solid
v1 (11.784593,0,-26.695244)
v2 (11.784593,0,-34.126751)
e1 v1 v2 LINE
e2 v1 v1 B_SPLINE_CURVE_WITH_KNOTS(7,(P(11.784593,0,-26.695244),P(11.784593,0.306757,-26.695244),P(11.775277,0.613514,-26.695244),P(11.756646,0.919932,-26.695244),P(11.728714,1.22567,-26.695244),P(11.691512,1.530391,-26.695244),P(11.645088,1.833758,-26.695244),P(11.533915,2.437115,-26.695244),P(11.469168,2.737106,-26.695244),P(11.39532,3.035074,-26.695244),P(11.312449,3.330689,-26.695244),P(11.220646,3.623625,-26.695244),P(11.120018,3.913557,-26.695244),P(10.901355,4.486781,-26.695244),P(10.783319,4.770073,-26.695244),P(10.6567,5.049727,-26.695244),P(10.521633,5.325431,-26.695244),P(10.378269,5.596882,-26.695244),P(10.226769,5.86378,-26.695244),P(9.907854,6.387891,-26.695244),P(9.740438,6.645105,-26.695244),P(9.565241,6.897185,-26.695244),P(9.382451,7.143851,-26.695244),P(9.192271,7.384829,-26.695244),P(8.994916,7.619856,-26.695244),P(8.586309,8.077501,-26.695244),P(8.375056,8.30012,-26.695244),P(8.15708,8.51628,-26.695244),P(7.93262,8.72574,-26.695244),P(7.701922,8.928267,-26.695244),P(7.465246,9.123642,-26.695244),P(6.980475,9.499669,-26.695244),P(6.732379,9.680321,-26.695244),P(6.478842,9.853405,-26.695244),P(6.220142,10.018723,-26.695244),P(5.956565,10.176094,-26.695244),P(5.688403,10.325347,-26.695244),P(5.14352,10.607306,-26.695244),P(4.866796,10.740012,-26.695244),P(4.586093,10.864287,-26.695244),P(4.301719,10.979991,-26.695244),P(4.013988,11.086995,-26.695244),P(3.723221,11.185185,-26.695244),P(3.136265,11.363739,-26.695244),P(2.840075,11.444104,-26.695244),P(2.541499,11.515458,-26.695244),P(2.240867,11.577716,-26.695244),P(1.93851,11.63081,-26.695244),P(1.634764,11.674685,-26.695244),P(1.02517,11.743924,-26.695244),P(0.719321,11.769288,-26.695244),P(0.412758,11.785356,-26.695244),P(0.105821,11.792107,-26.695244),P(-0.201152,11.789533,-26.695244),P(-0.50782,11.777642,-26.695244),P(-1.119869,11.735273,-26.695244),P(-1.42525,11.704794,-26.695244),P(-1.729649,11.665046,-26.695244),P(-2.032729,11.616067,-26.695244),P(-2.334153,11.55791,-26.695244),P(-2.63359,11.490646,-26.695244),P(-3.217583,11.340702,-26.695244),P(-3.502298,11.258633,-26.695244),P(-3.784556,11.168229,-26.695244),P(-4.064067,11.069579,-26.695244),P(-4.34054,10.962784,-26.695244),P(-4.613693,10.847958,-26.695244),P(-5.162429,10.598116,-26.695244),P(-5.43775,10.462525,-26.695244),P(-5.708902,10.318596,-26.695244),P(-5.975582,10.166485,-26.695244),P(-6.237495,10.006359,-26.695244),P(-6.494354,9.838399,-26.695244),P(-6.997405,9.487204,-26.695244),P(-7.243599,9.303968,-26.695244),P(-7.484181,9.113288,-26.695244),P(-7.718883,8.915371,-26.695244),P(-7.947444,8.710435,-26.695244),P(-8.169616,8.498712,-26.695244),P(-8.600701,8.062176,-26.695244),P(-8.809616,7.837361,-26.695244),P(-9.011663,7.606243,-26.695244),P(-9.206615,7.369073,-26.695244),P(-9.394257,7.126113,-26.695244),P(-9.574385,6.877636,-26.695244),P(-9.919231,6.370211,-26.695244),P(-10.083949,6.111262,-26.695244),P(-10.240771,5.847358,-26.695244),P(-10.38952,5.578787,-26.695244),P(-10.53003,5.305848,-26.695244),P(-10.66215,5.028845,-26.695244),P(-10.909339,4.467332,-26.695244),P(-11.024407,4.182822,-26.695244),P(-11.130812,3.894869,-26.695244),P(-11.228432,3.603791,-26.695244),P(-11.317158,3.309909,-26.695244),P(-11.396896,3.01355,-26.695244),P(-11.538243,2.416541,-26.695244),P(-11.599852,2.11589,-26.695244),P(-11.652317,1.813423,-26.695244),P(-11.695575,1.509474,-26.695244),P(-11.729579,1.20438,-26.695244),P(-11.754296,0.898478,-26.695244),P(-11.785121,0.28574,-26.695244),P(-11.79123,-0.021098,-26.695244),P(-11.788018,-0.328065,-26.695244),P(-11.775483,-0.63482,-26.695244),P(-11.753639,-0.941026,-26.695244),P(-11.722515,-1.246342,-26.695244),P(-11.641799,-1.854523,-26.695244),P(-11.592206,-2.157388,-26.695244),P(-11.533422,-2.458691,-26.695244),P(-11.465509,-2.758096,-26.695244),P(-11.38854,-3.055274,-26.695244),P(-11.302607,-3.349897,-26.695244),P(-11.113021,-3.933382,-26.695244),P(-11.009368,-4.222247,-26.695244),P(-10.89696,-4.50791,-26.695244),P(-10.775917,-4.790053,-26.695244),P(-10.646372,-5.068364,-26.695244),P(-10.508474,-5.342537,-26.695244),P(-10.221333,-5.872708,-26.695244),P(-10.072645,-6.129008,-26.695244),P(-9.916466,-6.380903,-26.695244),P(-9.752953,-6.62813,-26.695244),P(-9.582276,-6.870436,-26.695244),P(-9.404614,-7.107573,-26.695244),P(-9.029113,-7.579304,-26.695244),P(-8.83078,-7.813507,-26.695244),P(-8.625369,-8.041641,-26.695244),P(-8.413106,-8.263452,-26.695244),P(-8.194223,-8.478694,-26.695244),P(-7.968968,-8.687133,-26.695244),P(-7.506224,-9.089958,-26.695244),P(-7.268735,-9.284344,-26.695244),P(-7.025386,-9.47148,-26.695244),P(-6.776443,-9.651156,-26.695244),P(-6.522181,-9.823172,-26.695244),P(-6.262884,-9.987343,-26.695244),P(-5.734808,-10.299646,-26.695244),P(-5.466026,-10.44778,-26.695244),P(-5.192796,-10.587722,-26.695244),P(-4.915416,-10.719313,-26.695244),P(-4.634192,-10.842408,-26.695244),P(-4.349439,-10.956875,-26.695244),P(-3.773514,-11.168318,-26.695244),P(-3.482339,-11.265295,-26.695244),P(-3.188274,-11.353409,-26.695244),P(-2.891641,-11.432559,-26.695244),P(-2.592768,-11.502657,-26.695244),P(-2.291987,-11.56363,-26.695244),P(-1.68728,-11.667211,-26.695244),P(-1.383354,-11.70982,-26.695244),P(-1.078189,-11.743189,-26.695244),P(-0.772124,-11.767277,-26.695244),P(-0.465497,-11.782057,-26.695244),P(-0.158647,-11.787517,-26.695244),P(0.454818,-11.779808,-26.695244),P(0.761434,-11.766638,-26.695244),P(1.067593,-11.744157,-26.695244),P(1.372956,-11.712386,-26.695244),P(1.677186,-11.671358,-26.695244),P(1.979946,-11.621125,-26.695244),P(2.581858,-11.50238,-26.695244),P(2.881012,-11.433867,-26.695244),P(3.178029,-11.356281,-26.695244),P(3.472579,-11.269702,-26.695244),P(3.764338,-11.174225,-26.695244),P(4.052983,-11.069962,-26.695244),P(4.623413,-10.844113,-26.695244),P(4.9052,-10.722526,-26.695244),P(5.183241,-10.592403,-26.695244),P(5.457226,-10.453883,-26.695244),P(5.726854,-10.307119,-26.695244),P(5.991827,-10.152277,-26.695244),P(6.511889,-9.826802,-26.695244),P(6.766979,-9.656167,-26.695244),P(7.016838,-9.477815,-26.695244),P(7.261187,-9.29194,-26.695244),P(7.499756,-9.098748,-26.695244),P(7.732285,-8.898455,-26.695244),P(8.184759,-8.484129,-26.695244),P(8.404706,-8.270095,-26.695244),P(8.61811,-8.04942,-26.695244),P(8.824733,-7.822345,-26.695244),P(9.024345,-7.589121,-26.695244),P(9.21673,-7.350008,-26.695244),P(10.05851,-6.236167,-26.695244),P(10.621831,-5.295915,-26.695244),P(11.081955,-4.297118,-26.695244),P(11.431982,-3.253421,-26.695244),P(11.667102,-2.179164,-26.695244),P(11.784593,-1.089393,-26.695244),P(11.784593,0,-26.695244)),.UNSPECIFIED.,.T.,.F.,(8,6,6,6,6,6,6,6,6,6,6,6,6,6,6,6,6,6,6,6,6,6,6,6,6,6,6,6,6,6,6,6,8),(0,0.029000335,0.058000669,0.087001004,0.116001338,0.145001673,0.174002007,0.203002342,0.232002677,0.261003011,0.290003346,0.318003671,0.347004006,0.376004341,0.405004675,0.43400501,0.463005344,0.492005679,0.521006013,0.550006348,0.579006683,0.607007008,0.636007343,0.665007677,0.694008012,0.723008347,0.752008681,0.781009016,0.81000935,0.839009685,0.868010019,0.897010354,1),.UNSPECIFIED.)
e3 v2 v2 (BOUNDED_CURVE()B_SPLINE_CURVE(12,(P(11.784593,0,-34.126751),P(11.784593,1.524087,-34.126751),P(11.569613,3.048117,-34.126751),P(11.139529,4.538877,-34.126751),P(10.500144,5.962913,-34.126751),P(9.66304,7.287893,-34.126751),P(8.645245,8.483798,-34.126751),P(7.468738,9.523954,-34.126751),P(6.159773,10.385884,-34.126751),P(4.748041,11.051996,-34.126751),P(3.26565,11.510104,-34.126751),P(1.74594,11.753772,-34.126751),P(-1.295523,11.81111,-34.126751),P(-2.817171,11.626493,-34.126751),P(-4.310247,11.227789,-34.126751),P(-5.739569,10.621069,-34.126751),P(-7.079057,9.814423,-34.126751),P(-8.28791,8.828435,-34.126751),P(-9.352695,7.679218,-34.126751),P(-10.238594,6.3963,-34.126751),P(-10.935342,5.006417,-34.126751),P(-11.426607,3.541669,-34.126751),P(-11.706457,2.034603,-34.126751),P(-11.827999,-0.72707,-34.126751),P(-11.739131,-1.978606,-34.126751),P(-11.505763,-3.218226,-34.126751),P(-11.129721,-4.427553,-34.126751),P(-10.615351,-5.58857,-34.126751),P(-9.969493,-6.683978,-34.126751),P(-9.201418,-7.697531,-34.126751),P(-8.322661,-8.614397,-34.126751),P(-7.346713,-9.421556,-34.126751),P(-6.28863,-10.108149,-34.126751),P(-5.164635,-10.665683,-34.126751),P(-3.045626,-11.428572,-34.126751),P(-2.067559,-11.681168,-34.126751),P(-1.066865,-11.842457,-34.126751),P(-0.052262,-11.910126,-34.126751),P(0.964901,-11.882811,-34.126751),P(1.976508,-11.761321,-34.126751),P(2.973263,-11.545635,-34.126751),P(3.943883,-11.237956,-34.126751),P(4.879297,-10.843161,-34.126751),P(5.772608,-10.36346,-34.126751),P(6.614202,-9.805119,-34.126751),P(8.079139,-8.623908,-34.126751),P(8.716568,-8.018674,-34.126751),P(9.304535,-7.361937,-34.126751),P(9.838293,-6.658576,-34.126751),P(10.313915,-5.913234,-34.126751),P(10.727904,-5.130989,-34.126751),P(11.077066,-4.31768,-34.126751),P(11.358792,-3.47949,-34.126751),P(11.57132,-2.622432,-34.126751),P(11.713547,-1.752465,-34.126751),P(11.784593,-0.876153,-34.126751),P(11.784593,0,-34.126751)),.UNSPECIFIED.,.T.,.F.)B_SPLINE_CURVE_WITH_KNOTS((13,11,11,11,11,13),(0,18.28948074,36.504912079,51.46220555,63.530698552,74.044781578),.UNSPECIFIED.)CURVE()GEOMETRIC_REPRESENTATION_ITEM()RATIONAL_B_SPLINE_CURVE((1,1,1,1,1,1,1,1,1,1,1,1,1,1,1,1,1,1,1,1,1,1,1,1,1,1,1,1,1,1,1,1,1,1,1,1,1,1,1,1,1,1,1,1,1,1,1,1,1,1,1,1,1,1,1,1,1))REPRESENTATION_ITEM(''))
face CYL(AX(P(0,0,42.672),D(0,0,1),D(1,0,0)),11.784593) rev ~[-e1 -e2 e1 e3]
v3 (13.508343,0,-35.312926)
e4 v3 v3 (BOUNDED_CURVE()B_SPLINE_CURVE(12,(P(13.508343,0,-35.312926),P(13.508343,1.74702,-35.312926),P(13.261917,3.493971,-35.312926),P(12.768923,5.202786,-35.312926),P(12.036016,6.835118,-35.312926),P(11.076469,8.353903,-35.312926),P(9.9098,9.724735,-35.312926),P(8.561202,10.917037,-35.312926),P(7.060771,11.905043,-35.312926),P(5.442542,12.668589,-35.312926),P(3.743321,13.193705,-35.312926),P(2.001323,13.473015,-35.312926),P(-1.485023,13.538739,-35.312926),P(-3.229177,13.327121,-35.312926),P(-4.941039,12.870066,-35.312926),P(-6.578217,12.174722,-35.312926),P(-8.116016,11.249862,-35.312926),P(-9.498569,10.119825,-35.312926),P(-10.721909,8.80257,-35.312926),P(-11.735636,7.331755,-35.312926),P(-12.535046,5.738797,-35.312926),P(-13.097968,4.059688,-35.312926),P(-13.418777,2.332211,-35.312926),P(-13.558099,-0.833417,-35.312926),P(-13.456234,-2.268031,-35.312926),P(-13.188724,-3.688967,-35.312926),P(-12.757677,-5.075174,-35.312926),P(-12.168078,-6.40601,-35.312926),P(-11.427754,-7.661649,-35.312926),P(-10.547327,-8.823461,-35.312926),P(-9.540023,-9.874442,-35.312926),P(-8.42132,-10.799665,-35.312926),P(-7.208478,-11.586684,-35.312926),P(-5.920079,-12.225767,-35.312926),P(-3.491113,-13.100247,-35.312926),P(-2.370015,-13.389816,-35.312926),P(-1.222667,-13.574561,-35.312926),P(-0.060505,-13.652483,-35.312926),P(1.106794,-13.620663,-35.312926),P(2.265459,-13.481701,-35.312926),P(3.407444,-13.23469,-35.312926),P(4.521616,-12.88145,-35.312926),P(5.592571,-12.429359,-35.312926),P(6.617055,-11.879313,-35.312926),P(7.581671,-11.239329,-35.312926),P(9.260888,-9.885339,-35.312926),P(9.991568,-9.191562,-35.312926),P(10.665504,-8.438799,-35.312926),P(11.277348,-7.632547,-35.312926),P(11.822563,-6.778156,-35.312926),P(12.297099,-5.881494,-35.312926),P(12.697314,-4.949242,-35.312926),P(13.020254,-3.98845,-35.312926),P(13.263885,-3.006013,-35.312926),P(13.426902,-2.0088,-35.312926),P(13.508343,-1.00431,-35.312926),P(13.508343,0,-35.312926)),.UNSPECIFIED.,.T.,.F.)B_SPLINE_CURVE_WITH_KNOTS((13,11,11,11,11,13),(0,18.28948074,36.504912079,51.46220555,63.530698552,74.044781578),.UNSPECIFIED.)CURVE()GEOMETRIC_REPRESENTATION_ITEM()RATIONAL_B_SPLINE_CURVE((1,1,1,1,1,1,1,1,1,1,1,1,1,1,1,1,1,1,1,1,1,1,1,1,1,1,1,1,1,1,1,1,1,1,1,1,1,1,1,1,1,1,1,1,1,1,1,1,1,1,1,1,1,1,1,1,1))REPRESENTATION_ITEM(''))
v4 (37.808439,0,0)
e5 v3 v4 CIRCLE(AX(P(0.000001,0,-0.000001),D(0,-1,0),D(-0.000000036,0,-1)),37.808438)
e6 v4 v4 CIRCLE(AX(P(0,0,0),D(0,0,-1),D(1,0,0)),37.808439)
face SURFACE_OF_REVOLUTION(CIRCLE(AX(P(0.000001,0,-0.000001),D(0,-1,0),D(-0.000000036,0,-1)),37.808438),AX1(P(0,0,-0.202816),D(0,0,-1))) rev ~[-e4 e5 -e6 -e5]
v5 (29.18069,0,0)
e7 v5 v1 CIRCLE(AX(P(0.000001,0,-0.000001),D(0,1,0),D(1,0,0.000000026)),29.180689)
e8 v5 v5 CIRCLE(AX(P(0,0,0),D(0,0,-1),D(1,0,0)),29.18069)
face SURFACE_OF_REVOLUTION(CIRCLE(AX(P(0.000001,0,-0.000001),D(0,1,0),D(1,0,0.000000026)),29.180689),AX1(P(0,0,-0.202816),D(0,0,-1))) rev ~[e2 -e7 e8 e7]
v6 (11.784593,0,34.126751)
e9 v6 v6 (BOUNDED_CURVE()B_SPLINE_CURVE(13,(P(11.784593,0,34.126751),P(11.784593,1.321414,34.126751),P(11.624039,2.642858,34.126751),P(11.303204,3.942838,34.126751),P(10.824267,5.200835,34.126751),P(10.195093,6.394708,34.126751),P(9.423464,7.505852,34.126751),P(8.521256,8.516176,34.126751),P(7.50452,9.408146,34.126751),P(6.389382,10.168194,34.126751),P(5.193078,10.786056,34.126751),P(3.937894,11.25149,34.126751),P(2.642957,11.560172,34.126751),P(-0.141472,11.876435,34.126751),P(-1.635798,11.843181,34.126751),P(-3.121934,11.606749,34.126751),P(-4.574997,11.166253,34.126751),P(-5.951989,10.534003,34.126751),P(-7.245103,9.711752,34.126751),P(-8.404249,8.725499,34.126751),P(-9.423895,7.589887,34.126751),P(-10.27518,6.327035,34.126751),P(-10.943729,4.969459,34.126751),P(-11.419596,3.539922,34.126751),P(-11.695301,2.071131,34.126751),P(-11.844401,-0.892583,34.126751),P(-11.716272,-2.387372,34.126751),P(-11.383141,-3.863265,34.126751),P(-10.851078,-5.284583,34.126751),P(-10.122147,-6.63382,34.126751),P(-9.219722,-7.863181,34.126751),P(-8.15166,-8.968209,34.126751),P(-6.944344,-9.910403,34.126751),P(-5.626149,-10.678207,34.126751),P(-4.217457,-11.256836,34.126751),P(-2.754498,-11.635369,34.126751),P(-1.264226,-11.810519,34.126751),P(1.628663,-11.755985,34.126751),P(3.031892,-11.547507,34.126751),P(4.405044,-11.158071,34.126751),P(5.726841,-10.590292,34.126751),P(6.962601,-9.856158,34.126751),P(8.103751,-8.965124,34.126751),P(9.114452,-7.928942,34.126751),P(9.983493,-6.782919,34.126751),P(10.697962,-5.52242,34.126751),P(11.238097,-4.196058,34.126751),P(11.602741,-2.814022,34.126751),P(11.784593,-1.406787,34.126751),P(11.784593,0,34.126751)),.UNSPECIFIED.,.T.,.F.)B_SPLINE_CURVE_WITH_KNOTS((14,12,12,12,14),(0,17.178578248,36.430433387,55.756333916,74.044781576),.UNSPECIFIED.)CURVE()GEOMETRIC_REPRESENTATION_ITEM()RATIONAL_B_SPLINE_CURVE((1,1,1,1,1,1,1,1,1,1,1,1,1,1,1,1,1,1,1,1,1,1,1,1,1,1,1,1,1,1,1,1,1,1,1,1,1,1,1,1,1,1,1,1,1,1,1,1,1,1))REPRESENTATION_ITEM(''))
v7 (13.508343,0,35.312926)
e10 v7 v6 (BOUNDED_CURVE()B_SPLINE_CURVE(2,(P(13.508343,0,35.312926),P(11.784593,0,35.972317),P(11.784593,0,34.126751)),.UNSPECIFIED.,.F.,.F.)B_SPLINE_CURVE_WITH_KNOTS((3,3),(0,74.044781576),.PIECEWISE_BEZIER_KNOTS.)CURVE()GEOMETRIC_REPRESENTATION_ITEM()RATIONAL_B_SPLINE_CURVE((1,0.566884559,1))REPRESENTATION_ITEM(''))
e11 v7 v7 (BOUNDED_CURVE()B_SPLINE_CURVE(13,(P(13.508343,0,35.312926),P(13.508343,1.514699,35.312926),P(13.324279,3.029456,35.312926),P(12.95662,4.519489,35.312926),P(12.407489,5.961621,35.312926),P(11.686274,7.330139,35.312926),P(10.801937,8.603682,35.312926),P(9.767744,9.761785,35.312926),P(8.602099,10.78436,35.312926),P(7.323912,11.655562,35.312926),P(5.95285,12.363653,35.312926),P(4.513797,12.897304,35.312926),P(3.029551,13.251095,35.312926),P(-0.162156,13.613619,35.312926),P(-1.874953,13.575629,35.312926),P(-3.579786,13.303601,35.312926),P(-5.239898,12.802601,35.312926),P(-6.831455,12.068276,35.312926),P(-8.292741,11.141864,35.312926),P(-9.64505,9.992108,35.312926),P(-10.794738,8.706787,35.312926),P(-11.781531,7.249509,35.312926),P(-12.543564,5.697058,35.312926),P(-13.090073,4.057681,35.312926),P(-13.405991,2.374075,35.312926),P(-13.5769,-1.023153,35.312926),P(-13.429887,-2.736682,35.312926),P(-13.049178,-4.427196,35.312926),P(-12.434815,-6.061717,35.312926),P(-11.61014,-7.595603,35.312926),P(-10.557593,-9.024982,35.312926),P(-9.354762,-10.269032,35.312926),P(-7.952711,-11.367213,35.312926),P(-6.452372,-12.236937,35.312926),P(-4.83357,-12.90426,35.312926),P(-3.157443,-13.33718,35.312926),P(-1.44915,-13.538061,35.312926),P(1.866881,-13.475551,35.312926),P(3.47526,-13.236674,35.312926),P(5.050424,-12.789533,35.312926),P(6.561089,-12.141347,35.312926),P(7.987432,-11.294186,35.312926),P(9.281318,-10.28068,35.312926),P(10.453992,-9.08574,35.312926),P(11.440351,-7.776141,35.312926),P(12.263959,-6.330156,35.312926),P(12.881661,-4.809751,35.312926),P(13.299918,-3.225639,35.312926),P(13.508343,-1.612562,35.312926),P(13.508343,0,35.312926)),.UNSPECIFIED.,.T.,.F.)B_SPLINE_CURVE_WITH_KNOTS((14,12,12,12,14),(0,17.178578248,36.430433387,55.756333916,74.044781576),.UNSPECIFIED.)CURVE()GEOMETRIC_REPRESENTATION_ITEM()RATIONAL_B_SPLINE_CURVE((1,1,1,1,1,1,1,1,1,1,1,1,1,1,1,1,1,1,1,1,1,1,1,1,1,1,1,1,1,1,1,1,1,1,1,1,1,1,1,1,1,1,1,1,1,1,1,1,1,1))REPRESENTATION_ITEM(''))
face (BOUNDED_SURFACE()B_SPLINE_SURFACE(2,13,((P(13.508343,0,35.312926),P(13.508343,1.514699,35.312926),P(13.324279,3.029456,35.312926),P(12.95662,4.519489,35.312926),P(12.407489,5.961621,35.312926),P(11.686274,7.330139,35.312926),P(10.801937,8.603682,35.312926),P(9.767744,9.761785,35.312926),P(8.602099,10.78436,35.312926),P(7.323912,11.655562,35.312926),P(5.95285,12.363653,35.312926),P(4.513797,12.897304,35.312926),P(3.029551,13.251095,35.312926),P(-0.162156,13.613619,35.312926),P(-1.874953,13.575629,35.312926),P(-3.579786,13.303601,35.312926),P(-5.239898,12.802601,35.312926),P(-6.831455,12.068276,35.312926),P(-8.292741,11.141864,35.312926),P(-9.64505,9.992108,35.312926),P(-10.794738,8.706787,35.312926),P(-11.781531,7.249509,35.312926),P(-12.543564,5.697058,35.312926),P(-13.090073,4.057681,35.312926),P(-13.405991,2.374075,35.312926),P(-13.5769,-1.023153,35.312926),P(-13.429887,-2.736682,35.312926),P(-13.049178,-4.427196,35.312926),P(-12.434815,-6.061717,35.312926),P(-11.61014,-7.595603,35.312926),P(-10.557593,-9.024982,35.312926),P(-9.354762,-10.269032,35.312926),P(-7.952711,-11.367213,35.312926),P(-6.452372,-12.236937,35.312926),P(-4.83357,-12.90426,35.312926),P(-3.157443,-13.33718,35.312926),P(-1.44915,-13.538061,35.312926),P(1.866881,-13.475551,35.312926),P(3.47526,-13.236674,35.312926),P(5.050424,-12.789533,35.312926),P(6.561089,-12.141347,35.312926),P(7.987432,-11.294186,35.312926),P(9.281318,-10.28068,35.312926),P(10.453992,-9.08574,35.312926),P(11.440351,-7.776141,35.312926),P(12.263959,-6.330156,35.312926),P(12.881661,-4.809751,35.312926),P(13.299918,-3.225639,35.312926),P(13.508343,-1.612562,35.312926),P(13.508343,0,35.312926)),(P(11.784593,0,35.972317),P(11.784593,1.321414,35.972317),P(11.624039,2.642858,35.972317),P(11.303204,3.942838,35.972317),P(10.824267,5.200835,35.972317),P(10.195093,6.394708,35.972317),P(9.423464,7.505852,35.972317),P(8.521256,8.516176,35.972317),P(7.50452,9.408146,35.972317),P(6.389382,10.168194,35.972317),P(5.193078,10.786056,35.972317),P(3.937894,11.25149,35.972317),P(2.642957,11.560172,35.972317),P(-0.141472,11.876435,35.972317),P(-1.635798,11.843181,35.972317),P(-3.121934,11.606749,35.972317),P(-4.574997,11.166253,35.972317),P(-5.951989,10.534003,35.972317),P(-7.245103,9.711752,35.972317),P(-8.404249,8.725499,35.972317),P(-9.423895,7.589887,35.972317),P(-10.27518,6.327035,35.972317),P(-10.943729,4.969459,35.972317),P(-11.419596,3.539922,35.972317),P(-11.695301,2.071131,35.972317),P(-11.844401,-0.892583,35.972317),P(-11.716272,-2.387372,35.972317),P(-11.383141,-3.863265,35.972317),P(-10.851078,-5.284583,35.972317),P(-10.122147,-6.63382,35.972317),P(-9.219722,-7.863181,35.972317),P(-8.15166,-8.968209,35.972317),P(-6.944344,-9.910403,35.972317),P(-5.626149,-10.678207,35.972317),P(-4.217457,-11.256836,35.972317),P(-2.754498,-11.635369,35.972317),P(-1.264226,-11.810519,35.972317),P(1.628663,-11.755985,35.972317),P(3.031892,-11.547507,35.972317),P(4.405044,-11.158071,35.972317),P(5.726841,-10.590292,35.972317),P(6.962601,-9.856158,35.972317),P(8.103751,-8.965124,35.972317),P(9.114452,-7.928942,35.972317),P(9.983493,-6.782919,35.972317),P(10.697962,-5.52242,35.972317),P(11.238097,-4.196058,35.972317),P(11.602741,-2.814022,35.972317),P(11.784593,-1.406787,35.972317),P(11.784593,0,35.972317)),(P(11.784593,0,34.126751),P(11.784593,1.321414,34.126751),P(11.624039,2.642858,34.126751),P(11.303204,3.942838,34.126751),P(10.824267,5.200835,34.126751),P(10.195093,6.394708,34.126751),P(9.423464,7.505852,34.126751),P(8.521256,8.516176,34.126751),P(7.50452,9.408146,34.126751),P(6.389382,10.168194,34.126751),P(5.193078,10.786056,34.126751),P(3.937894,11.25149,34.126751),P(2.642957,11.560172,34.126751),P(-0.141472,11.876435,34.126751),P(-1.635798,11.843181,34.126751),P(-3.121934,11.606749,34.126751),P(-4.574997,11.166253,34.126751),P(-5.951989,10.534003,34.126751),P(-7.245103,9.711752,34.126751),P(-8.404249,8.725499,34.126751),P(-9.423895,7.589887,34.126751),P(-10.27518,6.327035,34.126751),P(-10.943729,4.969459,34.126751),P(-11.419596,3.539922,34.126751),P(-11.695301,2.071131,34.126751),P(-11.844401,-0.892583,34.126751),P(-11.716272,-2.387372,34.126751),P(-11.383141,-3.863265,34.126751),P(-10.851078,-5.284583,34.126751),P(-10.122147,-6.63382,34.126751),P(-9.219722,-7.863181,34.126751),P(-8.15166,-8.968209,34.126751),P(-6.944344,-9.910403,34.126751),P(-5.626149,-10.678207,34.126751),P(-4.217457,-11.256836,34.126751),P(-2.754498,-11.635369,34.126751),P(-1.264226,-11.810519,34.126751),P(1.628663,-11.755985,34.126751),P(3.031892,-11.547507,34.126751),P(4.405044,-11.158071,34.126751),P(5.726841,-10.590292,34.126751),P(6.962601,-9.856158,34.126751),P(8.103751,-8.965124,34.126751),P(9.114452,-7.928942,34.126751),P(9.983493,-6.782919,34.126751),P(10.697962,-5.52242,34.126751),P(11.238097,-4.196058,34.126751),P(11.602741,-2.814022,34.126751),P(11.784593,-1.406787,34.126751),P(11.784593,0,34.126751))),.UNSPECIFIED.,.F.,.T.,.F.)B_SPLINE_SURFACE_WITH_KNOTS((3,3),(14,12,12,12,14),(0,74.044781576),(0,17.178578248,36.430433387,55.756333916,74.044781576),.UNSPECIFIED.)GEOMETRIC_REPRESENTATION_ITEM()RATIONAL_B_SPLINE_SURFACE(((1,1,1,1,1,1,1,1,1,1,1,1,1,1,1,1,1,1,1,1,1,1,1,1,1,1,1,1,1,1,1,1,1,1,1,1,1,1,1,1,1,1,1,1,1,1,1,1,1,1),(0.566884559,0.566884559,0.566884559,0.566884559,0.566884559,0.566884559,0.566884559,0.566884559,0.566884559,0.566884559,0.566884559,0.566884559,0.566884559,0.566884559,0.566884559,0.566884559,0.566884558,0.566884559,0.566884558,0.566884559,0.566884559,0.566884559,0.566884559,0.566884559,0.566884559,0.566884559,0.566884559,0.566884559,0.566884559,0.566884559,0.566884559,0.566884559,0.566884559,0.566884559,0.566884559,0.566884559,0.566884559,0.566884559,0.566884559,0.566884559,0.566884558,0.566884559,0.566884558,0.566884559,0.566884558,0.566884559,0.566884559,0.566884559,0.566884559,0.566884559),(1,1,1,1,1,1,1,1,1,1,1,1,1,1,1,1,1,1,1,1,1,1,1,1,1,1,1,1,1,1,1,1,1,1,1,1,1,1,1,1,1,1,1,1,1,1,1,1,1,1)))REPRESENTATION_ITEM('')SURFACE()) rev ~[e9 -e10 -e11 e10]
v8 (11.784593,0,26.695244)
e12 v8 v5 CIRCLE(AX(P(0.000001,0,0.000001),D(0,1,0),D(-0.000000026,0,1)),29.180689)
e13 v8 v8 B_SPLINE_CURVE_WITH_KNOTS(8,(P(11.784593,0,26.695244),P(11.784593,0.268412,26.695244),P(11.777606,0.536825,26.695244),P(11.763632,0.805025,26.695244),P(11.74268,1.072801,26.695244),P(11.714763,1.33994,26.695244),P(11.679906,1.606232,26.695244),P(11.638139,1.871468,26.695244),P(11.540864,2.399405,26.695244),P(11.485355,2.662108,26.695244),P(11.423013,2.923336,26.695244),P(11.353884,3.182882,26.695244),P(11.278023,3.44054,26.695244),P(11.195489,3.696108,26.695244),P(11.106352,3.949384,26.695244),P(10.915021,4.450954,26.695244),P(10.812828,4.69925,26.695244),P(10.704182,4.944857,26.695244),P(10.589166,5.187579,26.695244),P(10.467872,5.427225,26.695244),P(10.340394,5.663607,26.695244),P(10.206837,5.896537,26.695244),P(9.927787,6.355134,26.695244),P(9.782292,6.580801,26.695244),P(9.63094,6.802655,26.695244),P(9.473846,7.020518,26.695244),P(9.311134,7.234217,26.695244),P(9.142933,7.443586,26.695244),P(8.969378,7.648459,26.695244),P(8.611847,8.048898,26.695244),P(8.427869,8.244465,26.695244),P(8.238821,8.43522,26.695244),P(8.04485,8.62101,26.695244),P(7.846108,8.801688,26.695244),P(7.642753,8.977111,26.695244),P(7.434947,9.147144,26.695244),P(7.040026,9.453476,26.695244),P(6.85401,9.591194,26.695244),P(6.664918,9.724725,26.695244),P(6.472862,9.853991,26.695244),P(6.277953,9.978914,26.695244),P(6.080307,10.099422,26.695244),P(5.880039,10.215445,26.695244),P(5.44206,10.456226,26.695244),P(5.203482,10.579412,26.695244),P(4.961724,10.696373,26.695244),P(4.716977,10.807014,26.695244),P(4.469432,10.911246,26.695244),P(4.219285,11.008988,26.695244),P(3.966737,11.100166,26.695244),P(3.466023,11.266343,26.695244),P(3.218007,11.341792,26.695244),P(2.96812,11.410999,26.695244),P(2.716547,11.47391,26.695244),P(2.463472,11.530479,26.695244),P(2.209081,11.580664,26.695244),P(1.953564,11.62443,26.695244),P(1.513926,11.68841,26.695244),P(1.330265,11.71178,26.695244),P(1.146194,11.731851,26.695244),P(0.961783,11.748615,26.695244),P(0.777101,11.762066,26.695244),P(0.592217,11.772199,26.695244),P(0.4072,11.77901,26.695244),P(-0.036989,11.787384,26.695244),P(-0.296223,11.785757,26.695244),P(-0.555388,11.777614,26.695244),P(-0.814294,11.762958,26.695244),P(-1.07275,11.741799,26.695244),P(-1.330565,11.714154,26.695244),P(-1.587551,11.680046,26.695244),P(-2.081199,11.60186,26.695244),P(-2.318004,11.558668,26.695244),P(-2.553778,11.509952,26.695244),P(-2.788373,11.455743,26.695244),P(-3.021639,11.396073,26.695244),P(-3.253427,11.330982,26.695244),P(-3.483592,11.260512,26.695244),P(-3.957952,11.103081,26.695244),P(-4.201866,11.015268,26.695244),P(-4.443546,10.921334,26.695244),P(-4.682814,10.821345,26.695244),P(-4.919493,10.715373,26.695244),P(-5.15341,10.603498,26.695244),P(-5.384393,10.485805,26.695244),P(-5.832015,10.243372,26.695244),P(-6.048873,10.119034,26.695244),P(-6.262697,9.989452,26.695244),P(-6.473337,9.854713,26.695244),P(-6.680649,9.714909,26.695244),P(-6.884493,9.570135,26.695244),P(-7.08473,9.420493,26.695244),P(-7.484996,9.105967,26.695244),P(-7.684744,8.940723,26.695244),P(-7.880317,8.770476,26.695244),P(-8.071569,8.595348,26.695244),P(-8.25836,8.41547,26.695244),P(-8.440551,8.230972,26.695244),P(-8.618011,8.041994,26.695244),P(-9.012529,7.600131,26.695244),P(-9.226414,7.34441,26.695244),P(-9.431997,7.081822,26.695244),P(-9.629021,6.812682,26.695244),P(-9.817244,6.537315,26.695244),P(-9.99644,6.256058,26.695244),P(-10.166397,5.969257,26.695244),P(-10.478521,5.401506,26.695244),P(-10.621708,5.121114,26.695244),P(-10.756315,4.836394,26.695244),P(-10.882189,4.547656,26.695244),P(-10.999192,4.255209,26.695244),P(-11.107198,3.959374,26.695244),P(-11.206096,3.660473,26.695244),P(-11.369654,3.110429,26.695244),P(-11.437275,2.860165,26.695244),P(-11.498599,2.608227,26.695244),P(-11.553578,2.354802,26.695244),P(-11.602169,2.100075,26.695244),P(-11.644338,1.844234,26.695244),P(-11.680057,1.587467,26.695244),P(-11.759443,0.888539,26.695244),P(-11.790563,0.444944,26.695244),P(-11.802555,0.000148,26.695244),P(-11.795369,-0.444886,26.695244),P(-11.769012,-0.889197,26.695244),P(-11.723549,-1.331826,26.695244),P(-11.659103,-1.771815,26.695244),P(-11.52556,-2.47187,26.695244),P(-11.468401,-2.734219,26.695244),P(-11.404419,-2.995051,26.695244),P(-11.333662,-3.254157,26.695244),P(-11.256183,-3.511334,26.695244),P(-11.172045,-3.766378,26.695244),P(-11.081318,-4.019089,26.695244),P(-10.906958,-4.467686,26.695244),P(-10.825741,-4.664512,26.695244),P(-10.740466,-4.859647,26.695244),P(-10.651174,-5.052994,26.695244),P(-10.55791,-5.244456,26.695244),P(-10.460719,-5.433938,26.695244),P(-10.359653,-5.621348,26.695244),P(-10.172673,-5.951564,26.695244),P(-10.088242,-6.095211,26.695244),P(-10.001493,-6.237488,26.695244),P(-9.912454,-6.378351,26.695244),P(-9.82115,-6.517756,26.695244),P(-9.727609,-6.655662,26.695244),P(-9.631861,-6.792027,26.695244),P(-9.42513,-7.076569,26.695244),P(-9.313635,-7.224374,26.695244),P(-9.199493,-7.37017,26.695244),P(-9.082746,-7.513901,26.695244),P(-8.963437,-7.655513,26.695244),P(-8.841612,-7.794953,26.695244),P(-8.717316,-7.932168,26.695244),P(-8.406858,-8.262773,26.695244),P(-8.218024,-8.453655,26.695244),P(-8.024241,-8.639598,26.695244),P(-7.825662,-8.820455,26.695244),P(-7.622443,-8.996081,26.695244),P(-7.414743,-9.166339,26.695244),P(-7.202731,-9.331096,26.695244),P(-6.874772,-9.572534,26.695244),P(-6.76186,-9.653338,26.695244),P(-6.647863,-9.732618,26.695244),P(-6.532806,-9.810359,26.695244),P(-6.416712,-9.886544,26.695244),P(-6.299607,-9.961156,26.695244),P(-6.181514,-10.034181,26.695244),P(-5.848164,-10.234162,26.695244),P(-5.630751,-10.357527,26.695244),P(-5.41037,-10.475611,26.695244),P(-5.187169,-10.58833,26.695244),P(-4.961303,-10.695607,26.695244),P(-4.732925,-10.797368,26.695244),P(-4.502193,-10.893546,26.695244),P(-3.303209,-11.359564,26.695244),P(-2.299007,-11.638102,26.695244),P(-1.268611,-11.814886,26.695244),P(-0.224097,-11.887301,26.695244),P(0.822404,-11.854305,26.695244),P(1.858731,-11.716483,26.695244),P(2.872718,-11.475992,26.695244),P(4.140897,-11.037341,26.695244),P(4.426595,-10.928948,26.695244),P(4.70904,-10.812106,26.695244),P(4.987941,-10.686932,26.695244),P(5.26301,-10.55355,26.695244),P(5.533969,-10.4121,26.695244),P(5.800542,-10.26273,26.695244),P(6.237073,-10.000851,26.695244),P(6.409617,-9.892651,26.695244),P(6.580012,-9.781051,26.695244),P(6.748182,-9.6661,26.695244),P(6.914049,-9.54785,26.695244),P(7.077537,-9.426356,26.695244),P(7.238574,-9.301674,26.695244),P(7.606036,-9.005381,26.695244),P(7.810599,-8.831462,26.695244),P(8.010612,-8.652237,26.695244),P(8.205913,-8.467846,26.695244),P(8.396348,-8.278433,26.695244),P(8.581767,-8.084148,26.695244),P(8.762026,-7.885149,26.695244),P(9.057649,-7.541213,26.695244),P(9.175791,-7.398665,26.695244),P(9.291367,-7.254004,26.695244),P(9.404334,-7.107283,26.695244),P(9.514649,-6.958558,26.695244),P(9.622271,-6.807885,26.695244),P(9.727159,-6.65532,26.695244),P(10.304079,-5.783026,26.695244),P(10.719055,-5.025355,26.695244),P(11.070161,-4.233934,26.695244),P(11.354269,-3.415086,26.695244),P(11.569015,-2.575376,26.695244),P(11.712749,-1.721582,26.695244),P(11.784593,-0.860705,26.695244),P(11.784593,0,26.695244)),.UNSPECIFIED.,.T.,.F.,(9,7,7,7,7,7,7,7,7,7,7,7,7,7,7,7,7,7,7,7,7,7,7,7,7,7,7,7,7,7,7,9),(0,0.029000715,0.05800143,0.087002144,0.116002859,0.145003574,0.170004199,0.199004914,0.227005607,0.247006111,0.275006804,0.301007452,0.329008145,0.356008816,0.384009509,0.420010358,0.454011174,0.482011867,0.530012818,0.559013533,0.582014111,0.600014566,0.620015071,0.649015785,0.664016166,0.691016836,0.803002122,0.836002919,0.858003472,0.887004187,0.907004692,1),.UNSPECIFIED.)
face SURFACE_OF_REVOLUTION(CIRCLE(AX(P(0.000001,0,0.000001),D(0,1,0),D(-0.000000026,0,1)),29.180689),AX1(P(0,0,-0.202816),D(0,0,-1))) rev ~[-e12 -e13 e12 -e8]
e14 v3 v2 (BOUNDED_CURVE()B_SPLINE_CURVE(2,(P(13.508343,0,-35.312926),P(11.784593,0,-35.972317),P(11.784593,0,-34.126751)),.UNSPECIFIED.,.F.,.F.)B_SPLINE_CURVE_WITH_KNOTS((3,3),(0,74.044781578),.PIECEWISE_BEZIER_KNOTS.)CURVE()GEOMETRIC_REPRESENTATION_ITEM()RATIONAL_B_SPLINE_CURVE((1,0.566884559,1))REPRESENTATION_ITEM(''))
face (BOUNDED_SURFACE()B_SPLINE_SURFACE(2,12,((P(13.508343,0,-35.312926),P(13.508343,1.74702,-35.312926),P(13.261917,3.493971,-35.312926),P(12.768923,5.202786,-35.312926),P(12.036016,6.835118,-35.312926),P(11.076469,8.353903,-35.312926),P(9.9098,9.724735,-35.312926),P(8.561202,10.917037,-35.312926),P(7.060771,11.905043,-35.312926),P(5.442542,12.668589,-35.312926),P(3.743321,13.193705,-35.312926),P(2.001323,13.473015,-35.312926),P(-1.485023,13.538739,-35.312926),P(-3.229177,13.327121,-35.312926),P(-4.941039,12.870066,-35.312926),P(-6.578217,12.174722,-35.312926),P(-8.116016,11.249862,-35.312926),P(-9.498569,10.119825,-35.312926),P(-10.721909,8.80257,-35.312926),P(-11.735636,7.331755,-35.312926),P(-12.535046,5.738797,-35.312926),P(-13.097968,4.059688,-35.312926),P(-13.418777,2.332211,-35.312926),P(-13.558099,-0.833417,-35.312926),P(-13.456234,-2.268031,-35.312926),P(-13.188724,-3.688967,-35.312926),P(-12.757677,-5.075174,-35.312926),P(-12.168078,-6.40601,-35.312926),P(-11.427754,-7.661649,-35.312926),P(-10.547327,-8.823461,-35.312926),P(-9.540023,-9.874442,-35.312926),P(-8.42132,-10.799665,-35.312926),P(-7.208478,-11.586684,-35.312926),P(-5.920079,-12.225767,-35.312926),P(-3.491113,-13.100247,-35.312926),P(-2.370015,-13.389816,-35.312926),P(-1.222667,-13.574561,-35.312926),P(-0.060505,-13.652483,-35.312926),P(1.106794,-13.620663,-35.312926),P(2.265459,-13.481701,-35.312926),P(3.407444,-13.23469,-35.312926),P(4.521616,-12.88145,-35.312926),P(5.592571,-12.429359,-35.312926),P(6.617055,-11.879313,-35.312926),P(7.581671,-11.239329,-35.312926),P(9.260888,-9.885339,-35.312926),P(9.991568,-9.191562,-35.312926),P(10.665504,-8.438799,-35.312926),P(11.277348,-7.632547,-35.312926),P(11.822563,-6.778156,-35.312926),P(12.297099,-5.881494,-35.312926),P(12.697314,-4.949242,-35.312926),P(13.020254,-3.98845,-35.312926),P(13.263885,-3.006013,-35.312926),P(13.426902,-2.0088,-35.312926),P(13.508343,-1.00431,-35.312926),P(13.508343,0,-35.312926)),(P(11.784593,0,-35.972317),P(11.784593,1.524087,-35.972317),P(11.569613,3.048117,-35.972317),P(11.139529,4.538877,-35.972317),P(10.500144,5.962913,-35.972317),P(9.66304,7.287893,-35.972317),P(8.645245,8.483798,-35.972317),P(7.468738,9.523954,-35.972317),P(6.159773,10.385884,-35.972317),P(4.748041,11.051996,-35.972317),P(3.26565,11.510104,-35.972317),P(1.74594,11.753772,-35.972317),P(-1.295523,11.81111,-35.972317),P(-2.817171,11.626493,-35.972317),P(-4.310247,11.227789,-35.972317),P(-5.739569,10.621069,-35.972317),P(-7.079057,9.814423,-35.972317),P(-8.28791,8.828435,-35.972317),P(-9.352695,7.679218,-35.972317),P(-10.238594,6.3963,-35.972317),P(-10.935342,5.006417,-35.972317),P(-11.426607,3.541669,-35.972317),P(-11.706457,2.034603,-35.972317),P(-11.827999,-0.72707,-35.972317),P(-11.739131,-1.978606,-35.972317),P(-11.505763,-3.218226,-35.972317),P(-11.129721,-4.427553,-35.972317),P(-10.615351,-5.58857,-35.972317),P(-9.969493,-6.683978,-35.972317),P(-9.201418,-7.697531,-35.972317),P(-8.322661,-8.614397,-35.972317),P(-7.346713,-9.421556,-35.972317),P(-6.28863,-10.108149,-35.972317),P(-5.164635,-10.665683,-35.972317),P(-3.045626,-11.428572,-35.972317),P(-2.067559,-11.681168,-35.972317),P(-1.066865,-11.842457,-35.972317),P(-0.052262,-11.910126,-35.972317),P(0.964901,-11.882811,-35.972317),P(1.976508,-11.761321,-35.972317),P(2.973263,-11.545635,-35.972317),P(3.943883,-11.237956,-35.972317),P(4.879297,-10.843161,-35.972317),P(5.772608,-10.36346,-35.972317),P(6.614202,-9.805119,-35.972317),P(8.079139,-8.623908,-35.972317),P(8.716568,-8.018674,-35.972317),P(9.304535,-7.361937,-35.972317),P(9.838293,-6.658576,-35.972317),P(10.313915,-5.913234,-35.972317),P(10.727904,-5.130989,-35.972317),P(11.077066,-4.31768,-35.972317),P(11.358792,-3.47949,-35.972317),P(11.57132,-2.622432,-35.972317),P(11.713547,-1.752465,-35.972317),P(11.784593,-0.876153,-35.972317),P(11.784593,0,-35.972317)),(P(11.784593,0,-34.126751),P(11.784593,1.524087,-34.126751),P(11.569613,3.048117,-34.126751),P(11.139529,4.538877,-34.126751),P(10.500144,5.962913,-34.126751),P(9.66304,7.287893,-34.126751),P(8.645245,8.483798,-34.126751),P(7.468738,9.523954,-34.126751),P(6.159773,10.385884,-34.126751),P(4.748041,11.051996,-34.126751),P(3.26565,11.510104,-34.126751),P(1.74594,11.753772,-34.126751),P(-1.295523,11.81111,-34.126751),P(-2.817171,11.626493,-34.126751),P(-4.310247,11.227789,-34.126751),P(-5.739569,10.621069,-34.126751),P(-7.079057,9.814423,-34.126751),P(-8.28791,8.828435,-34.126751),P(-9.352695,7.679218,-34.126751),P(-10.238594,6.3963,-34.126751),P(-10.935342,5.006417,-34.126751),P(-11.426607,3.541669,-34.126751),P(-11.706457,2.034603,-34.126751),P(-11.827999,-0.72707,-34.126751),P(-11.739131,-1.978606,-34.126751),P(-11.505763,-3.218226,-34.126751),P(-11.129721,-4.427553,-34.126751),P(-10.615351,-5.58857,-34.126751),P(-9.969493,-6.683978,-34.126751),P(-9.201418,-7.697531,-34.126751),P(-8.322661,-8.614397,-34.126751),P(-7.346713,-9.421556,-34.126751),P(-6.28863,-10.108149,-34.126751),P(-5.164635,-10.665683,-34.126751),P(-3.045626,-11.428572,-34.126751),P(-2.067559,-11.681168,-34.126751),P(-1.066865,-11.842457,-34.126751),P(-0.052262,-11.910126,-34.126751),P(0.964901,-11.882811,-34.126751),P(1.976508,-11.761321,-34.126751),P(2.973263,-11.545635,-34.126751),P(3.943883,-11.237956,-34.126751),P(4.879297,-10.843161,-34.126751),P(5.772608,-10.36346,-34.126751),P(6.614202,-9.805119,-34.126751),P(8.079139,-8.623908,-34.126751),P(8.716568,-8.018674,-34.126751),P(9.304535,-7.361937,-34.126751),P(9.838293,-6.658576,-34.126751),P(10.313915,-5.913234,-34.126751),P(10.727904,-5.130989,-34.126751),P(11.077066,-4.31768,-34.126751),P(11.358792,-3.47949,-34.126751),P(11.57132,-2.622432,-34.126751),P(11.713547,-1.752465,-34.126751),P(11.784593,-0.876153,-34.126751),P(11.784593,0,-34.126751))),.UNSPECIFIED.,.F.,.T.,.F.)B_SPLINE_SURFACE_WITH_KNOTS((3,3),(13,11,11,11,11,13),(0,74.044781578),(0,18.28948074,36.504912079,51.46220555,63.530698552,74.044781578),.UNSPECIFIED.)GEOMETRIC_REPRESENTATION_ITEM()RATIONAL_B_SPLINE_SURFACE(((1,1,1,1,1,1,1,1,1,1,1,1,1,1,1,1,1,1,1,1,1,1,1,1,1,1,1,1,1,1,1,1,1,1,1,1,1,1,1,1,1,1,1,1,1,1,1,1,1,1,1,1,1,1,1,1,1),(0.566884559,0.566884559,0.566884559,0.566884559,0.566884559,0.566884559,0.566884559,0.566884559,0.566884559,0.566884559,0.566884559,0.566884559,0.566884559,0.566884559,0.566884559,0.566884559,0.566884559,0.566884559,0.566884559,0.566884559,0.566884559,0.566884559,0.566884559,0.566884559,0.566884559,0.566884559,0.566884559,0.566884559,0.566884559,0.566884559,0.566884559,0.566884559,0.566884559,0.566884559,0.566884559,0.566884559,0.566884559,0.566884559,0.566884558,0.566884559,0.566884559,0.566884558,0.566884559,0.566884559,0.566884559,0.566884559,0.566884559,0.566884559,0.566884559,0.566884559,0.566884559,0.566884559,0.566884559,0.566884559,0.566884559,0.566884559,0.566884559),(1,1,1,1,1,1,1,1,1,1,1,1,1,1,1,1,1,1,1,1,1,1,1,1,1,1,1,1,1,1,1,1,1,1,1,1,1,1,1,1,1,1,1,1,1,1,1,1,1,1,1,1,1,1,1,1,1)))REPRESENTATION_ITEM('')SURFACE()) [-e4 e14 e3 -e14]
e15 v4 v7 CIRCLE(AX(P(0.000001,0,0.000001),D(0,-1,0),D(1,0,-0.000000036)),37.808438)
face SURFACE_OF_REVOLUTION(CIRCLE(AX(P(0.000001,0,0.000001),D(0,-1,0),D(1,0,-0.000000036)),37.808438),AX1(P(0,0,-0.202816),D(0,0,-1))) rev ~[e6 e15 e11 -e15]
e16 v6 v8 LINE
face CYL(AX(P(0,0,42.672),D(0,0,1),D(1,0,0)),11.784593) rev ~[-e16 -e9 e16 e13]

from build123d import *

# Parameters (mm, degrees)
F3_R     = 11.784593
F4_DEPTH = 127
F5_R     = 1.27


with BuildPart() as f1:
    # F0 (on Front) → F1 (revolve)
    with BuildSketch(Plane.XZ):
        with BuildLine():
            ThreePointArc((0, -37.808439), (26.734604, -26.734604), (37.808439, 0))
            ThreePointArc((37.808439, 0), (26.734604, 26.734604), (0, 37.808439))
            Line((0, 37.808439), (0, 29.18069))
            ThreePointArc((0, 29.18069), (20.633864, 20.633864), (29.18069, 0))
            ThreePointArc((29.18069, 0), (20.633864, -20.633864), (0, -29.18069))
            Line((0, -29.18069), (0, -37.808439))
        make_face()
    revolve(axis=Axis((0, 0, -0.202816), (0, 0, -1)))

    # F3 (on offset) → F4 (cut)
    with BuildSketch(Plane.XY.offset(42.672)):
        Circle(F3_R)
    extrude(amount=-F4_DEPTH, mode=Mode.SUBTRACT)

    # F5
    f5_edges = [f1.edges().sort_by_distance(p)[0] for p in [
        (-11.784593, 0, 35.924942),
        (37.808439, 0, 0),
        (-11.784593, 0, -35.924942),
    ]]
    fillet(f5_edges, radius=F5_R)


solid = f1.part
